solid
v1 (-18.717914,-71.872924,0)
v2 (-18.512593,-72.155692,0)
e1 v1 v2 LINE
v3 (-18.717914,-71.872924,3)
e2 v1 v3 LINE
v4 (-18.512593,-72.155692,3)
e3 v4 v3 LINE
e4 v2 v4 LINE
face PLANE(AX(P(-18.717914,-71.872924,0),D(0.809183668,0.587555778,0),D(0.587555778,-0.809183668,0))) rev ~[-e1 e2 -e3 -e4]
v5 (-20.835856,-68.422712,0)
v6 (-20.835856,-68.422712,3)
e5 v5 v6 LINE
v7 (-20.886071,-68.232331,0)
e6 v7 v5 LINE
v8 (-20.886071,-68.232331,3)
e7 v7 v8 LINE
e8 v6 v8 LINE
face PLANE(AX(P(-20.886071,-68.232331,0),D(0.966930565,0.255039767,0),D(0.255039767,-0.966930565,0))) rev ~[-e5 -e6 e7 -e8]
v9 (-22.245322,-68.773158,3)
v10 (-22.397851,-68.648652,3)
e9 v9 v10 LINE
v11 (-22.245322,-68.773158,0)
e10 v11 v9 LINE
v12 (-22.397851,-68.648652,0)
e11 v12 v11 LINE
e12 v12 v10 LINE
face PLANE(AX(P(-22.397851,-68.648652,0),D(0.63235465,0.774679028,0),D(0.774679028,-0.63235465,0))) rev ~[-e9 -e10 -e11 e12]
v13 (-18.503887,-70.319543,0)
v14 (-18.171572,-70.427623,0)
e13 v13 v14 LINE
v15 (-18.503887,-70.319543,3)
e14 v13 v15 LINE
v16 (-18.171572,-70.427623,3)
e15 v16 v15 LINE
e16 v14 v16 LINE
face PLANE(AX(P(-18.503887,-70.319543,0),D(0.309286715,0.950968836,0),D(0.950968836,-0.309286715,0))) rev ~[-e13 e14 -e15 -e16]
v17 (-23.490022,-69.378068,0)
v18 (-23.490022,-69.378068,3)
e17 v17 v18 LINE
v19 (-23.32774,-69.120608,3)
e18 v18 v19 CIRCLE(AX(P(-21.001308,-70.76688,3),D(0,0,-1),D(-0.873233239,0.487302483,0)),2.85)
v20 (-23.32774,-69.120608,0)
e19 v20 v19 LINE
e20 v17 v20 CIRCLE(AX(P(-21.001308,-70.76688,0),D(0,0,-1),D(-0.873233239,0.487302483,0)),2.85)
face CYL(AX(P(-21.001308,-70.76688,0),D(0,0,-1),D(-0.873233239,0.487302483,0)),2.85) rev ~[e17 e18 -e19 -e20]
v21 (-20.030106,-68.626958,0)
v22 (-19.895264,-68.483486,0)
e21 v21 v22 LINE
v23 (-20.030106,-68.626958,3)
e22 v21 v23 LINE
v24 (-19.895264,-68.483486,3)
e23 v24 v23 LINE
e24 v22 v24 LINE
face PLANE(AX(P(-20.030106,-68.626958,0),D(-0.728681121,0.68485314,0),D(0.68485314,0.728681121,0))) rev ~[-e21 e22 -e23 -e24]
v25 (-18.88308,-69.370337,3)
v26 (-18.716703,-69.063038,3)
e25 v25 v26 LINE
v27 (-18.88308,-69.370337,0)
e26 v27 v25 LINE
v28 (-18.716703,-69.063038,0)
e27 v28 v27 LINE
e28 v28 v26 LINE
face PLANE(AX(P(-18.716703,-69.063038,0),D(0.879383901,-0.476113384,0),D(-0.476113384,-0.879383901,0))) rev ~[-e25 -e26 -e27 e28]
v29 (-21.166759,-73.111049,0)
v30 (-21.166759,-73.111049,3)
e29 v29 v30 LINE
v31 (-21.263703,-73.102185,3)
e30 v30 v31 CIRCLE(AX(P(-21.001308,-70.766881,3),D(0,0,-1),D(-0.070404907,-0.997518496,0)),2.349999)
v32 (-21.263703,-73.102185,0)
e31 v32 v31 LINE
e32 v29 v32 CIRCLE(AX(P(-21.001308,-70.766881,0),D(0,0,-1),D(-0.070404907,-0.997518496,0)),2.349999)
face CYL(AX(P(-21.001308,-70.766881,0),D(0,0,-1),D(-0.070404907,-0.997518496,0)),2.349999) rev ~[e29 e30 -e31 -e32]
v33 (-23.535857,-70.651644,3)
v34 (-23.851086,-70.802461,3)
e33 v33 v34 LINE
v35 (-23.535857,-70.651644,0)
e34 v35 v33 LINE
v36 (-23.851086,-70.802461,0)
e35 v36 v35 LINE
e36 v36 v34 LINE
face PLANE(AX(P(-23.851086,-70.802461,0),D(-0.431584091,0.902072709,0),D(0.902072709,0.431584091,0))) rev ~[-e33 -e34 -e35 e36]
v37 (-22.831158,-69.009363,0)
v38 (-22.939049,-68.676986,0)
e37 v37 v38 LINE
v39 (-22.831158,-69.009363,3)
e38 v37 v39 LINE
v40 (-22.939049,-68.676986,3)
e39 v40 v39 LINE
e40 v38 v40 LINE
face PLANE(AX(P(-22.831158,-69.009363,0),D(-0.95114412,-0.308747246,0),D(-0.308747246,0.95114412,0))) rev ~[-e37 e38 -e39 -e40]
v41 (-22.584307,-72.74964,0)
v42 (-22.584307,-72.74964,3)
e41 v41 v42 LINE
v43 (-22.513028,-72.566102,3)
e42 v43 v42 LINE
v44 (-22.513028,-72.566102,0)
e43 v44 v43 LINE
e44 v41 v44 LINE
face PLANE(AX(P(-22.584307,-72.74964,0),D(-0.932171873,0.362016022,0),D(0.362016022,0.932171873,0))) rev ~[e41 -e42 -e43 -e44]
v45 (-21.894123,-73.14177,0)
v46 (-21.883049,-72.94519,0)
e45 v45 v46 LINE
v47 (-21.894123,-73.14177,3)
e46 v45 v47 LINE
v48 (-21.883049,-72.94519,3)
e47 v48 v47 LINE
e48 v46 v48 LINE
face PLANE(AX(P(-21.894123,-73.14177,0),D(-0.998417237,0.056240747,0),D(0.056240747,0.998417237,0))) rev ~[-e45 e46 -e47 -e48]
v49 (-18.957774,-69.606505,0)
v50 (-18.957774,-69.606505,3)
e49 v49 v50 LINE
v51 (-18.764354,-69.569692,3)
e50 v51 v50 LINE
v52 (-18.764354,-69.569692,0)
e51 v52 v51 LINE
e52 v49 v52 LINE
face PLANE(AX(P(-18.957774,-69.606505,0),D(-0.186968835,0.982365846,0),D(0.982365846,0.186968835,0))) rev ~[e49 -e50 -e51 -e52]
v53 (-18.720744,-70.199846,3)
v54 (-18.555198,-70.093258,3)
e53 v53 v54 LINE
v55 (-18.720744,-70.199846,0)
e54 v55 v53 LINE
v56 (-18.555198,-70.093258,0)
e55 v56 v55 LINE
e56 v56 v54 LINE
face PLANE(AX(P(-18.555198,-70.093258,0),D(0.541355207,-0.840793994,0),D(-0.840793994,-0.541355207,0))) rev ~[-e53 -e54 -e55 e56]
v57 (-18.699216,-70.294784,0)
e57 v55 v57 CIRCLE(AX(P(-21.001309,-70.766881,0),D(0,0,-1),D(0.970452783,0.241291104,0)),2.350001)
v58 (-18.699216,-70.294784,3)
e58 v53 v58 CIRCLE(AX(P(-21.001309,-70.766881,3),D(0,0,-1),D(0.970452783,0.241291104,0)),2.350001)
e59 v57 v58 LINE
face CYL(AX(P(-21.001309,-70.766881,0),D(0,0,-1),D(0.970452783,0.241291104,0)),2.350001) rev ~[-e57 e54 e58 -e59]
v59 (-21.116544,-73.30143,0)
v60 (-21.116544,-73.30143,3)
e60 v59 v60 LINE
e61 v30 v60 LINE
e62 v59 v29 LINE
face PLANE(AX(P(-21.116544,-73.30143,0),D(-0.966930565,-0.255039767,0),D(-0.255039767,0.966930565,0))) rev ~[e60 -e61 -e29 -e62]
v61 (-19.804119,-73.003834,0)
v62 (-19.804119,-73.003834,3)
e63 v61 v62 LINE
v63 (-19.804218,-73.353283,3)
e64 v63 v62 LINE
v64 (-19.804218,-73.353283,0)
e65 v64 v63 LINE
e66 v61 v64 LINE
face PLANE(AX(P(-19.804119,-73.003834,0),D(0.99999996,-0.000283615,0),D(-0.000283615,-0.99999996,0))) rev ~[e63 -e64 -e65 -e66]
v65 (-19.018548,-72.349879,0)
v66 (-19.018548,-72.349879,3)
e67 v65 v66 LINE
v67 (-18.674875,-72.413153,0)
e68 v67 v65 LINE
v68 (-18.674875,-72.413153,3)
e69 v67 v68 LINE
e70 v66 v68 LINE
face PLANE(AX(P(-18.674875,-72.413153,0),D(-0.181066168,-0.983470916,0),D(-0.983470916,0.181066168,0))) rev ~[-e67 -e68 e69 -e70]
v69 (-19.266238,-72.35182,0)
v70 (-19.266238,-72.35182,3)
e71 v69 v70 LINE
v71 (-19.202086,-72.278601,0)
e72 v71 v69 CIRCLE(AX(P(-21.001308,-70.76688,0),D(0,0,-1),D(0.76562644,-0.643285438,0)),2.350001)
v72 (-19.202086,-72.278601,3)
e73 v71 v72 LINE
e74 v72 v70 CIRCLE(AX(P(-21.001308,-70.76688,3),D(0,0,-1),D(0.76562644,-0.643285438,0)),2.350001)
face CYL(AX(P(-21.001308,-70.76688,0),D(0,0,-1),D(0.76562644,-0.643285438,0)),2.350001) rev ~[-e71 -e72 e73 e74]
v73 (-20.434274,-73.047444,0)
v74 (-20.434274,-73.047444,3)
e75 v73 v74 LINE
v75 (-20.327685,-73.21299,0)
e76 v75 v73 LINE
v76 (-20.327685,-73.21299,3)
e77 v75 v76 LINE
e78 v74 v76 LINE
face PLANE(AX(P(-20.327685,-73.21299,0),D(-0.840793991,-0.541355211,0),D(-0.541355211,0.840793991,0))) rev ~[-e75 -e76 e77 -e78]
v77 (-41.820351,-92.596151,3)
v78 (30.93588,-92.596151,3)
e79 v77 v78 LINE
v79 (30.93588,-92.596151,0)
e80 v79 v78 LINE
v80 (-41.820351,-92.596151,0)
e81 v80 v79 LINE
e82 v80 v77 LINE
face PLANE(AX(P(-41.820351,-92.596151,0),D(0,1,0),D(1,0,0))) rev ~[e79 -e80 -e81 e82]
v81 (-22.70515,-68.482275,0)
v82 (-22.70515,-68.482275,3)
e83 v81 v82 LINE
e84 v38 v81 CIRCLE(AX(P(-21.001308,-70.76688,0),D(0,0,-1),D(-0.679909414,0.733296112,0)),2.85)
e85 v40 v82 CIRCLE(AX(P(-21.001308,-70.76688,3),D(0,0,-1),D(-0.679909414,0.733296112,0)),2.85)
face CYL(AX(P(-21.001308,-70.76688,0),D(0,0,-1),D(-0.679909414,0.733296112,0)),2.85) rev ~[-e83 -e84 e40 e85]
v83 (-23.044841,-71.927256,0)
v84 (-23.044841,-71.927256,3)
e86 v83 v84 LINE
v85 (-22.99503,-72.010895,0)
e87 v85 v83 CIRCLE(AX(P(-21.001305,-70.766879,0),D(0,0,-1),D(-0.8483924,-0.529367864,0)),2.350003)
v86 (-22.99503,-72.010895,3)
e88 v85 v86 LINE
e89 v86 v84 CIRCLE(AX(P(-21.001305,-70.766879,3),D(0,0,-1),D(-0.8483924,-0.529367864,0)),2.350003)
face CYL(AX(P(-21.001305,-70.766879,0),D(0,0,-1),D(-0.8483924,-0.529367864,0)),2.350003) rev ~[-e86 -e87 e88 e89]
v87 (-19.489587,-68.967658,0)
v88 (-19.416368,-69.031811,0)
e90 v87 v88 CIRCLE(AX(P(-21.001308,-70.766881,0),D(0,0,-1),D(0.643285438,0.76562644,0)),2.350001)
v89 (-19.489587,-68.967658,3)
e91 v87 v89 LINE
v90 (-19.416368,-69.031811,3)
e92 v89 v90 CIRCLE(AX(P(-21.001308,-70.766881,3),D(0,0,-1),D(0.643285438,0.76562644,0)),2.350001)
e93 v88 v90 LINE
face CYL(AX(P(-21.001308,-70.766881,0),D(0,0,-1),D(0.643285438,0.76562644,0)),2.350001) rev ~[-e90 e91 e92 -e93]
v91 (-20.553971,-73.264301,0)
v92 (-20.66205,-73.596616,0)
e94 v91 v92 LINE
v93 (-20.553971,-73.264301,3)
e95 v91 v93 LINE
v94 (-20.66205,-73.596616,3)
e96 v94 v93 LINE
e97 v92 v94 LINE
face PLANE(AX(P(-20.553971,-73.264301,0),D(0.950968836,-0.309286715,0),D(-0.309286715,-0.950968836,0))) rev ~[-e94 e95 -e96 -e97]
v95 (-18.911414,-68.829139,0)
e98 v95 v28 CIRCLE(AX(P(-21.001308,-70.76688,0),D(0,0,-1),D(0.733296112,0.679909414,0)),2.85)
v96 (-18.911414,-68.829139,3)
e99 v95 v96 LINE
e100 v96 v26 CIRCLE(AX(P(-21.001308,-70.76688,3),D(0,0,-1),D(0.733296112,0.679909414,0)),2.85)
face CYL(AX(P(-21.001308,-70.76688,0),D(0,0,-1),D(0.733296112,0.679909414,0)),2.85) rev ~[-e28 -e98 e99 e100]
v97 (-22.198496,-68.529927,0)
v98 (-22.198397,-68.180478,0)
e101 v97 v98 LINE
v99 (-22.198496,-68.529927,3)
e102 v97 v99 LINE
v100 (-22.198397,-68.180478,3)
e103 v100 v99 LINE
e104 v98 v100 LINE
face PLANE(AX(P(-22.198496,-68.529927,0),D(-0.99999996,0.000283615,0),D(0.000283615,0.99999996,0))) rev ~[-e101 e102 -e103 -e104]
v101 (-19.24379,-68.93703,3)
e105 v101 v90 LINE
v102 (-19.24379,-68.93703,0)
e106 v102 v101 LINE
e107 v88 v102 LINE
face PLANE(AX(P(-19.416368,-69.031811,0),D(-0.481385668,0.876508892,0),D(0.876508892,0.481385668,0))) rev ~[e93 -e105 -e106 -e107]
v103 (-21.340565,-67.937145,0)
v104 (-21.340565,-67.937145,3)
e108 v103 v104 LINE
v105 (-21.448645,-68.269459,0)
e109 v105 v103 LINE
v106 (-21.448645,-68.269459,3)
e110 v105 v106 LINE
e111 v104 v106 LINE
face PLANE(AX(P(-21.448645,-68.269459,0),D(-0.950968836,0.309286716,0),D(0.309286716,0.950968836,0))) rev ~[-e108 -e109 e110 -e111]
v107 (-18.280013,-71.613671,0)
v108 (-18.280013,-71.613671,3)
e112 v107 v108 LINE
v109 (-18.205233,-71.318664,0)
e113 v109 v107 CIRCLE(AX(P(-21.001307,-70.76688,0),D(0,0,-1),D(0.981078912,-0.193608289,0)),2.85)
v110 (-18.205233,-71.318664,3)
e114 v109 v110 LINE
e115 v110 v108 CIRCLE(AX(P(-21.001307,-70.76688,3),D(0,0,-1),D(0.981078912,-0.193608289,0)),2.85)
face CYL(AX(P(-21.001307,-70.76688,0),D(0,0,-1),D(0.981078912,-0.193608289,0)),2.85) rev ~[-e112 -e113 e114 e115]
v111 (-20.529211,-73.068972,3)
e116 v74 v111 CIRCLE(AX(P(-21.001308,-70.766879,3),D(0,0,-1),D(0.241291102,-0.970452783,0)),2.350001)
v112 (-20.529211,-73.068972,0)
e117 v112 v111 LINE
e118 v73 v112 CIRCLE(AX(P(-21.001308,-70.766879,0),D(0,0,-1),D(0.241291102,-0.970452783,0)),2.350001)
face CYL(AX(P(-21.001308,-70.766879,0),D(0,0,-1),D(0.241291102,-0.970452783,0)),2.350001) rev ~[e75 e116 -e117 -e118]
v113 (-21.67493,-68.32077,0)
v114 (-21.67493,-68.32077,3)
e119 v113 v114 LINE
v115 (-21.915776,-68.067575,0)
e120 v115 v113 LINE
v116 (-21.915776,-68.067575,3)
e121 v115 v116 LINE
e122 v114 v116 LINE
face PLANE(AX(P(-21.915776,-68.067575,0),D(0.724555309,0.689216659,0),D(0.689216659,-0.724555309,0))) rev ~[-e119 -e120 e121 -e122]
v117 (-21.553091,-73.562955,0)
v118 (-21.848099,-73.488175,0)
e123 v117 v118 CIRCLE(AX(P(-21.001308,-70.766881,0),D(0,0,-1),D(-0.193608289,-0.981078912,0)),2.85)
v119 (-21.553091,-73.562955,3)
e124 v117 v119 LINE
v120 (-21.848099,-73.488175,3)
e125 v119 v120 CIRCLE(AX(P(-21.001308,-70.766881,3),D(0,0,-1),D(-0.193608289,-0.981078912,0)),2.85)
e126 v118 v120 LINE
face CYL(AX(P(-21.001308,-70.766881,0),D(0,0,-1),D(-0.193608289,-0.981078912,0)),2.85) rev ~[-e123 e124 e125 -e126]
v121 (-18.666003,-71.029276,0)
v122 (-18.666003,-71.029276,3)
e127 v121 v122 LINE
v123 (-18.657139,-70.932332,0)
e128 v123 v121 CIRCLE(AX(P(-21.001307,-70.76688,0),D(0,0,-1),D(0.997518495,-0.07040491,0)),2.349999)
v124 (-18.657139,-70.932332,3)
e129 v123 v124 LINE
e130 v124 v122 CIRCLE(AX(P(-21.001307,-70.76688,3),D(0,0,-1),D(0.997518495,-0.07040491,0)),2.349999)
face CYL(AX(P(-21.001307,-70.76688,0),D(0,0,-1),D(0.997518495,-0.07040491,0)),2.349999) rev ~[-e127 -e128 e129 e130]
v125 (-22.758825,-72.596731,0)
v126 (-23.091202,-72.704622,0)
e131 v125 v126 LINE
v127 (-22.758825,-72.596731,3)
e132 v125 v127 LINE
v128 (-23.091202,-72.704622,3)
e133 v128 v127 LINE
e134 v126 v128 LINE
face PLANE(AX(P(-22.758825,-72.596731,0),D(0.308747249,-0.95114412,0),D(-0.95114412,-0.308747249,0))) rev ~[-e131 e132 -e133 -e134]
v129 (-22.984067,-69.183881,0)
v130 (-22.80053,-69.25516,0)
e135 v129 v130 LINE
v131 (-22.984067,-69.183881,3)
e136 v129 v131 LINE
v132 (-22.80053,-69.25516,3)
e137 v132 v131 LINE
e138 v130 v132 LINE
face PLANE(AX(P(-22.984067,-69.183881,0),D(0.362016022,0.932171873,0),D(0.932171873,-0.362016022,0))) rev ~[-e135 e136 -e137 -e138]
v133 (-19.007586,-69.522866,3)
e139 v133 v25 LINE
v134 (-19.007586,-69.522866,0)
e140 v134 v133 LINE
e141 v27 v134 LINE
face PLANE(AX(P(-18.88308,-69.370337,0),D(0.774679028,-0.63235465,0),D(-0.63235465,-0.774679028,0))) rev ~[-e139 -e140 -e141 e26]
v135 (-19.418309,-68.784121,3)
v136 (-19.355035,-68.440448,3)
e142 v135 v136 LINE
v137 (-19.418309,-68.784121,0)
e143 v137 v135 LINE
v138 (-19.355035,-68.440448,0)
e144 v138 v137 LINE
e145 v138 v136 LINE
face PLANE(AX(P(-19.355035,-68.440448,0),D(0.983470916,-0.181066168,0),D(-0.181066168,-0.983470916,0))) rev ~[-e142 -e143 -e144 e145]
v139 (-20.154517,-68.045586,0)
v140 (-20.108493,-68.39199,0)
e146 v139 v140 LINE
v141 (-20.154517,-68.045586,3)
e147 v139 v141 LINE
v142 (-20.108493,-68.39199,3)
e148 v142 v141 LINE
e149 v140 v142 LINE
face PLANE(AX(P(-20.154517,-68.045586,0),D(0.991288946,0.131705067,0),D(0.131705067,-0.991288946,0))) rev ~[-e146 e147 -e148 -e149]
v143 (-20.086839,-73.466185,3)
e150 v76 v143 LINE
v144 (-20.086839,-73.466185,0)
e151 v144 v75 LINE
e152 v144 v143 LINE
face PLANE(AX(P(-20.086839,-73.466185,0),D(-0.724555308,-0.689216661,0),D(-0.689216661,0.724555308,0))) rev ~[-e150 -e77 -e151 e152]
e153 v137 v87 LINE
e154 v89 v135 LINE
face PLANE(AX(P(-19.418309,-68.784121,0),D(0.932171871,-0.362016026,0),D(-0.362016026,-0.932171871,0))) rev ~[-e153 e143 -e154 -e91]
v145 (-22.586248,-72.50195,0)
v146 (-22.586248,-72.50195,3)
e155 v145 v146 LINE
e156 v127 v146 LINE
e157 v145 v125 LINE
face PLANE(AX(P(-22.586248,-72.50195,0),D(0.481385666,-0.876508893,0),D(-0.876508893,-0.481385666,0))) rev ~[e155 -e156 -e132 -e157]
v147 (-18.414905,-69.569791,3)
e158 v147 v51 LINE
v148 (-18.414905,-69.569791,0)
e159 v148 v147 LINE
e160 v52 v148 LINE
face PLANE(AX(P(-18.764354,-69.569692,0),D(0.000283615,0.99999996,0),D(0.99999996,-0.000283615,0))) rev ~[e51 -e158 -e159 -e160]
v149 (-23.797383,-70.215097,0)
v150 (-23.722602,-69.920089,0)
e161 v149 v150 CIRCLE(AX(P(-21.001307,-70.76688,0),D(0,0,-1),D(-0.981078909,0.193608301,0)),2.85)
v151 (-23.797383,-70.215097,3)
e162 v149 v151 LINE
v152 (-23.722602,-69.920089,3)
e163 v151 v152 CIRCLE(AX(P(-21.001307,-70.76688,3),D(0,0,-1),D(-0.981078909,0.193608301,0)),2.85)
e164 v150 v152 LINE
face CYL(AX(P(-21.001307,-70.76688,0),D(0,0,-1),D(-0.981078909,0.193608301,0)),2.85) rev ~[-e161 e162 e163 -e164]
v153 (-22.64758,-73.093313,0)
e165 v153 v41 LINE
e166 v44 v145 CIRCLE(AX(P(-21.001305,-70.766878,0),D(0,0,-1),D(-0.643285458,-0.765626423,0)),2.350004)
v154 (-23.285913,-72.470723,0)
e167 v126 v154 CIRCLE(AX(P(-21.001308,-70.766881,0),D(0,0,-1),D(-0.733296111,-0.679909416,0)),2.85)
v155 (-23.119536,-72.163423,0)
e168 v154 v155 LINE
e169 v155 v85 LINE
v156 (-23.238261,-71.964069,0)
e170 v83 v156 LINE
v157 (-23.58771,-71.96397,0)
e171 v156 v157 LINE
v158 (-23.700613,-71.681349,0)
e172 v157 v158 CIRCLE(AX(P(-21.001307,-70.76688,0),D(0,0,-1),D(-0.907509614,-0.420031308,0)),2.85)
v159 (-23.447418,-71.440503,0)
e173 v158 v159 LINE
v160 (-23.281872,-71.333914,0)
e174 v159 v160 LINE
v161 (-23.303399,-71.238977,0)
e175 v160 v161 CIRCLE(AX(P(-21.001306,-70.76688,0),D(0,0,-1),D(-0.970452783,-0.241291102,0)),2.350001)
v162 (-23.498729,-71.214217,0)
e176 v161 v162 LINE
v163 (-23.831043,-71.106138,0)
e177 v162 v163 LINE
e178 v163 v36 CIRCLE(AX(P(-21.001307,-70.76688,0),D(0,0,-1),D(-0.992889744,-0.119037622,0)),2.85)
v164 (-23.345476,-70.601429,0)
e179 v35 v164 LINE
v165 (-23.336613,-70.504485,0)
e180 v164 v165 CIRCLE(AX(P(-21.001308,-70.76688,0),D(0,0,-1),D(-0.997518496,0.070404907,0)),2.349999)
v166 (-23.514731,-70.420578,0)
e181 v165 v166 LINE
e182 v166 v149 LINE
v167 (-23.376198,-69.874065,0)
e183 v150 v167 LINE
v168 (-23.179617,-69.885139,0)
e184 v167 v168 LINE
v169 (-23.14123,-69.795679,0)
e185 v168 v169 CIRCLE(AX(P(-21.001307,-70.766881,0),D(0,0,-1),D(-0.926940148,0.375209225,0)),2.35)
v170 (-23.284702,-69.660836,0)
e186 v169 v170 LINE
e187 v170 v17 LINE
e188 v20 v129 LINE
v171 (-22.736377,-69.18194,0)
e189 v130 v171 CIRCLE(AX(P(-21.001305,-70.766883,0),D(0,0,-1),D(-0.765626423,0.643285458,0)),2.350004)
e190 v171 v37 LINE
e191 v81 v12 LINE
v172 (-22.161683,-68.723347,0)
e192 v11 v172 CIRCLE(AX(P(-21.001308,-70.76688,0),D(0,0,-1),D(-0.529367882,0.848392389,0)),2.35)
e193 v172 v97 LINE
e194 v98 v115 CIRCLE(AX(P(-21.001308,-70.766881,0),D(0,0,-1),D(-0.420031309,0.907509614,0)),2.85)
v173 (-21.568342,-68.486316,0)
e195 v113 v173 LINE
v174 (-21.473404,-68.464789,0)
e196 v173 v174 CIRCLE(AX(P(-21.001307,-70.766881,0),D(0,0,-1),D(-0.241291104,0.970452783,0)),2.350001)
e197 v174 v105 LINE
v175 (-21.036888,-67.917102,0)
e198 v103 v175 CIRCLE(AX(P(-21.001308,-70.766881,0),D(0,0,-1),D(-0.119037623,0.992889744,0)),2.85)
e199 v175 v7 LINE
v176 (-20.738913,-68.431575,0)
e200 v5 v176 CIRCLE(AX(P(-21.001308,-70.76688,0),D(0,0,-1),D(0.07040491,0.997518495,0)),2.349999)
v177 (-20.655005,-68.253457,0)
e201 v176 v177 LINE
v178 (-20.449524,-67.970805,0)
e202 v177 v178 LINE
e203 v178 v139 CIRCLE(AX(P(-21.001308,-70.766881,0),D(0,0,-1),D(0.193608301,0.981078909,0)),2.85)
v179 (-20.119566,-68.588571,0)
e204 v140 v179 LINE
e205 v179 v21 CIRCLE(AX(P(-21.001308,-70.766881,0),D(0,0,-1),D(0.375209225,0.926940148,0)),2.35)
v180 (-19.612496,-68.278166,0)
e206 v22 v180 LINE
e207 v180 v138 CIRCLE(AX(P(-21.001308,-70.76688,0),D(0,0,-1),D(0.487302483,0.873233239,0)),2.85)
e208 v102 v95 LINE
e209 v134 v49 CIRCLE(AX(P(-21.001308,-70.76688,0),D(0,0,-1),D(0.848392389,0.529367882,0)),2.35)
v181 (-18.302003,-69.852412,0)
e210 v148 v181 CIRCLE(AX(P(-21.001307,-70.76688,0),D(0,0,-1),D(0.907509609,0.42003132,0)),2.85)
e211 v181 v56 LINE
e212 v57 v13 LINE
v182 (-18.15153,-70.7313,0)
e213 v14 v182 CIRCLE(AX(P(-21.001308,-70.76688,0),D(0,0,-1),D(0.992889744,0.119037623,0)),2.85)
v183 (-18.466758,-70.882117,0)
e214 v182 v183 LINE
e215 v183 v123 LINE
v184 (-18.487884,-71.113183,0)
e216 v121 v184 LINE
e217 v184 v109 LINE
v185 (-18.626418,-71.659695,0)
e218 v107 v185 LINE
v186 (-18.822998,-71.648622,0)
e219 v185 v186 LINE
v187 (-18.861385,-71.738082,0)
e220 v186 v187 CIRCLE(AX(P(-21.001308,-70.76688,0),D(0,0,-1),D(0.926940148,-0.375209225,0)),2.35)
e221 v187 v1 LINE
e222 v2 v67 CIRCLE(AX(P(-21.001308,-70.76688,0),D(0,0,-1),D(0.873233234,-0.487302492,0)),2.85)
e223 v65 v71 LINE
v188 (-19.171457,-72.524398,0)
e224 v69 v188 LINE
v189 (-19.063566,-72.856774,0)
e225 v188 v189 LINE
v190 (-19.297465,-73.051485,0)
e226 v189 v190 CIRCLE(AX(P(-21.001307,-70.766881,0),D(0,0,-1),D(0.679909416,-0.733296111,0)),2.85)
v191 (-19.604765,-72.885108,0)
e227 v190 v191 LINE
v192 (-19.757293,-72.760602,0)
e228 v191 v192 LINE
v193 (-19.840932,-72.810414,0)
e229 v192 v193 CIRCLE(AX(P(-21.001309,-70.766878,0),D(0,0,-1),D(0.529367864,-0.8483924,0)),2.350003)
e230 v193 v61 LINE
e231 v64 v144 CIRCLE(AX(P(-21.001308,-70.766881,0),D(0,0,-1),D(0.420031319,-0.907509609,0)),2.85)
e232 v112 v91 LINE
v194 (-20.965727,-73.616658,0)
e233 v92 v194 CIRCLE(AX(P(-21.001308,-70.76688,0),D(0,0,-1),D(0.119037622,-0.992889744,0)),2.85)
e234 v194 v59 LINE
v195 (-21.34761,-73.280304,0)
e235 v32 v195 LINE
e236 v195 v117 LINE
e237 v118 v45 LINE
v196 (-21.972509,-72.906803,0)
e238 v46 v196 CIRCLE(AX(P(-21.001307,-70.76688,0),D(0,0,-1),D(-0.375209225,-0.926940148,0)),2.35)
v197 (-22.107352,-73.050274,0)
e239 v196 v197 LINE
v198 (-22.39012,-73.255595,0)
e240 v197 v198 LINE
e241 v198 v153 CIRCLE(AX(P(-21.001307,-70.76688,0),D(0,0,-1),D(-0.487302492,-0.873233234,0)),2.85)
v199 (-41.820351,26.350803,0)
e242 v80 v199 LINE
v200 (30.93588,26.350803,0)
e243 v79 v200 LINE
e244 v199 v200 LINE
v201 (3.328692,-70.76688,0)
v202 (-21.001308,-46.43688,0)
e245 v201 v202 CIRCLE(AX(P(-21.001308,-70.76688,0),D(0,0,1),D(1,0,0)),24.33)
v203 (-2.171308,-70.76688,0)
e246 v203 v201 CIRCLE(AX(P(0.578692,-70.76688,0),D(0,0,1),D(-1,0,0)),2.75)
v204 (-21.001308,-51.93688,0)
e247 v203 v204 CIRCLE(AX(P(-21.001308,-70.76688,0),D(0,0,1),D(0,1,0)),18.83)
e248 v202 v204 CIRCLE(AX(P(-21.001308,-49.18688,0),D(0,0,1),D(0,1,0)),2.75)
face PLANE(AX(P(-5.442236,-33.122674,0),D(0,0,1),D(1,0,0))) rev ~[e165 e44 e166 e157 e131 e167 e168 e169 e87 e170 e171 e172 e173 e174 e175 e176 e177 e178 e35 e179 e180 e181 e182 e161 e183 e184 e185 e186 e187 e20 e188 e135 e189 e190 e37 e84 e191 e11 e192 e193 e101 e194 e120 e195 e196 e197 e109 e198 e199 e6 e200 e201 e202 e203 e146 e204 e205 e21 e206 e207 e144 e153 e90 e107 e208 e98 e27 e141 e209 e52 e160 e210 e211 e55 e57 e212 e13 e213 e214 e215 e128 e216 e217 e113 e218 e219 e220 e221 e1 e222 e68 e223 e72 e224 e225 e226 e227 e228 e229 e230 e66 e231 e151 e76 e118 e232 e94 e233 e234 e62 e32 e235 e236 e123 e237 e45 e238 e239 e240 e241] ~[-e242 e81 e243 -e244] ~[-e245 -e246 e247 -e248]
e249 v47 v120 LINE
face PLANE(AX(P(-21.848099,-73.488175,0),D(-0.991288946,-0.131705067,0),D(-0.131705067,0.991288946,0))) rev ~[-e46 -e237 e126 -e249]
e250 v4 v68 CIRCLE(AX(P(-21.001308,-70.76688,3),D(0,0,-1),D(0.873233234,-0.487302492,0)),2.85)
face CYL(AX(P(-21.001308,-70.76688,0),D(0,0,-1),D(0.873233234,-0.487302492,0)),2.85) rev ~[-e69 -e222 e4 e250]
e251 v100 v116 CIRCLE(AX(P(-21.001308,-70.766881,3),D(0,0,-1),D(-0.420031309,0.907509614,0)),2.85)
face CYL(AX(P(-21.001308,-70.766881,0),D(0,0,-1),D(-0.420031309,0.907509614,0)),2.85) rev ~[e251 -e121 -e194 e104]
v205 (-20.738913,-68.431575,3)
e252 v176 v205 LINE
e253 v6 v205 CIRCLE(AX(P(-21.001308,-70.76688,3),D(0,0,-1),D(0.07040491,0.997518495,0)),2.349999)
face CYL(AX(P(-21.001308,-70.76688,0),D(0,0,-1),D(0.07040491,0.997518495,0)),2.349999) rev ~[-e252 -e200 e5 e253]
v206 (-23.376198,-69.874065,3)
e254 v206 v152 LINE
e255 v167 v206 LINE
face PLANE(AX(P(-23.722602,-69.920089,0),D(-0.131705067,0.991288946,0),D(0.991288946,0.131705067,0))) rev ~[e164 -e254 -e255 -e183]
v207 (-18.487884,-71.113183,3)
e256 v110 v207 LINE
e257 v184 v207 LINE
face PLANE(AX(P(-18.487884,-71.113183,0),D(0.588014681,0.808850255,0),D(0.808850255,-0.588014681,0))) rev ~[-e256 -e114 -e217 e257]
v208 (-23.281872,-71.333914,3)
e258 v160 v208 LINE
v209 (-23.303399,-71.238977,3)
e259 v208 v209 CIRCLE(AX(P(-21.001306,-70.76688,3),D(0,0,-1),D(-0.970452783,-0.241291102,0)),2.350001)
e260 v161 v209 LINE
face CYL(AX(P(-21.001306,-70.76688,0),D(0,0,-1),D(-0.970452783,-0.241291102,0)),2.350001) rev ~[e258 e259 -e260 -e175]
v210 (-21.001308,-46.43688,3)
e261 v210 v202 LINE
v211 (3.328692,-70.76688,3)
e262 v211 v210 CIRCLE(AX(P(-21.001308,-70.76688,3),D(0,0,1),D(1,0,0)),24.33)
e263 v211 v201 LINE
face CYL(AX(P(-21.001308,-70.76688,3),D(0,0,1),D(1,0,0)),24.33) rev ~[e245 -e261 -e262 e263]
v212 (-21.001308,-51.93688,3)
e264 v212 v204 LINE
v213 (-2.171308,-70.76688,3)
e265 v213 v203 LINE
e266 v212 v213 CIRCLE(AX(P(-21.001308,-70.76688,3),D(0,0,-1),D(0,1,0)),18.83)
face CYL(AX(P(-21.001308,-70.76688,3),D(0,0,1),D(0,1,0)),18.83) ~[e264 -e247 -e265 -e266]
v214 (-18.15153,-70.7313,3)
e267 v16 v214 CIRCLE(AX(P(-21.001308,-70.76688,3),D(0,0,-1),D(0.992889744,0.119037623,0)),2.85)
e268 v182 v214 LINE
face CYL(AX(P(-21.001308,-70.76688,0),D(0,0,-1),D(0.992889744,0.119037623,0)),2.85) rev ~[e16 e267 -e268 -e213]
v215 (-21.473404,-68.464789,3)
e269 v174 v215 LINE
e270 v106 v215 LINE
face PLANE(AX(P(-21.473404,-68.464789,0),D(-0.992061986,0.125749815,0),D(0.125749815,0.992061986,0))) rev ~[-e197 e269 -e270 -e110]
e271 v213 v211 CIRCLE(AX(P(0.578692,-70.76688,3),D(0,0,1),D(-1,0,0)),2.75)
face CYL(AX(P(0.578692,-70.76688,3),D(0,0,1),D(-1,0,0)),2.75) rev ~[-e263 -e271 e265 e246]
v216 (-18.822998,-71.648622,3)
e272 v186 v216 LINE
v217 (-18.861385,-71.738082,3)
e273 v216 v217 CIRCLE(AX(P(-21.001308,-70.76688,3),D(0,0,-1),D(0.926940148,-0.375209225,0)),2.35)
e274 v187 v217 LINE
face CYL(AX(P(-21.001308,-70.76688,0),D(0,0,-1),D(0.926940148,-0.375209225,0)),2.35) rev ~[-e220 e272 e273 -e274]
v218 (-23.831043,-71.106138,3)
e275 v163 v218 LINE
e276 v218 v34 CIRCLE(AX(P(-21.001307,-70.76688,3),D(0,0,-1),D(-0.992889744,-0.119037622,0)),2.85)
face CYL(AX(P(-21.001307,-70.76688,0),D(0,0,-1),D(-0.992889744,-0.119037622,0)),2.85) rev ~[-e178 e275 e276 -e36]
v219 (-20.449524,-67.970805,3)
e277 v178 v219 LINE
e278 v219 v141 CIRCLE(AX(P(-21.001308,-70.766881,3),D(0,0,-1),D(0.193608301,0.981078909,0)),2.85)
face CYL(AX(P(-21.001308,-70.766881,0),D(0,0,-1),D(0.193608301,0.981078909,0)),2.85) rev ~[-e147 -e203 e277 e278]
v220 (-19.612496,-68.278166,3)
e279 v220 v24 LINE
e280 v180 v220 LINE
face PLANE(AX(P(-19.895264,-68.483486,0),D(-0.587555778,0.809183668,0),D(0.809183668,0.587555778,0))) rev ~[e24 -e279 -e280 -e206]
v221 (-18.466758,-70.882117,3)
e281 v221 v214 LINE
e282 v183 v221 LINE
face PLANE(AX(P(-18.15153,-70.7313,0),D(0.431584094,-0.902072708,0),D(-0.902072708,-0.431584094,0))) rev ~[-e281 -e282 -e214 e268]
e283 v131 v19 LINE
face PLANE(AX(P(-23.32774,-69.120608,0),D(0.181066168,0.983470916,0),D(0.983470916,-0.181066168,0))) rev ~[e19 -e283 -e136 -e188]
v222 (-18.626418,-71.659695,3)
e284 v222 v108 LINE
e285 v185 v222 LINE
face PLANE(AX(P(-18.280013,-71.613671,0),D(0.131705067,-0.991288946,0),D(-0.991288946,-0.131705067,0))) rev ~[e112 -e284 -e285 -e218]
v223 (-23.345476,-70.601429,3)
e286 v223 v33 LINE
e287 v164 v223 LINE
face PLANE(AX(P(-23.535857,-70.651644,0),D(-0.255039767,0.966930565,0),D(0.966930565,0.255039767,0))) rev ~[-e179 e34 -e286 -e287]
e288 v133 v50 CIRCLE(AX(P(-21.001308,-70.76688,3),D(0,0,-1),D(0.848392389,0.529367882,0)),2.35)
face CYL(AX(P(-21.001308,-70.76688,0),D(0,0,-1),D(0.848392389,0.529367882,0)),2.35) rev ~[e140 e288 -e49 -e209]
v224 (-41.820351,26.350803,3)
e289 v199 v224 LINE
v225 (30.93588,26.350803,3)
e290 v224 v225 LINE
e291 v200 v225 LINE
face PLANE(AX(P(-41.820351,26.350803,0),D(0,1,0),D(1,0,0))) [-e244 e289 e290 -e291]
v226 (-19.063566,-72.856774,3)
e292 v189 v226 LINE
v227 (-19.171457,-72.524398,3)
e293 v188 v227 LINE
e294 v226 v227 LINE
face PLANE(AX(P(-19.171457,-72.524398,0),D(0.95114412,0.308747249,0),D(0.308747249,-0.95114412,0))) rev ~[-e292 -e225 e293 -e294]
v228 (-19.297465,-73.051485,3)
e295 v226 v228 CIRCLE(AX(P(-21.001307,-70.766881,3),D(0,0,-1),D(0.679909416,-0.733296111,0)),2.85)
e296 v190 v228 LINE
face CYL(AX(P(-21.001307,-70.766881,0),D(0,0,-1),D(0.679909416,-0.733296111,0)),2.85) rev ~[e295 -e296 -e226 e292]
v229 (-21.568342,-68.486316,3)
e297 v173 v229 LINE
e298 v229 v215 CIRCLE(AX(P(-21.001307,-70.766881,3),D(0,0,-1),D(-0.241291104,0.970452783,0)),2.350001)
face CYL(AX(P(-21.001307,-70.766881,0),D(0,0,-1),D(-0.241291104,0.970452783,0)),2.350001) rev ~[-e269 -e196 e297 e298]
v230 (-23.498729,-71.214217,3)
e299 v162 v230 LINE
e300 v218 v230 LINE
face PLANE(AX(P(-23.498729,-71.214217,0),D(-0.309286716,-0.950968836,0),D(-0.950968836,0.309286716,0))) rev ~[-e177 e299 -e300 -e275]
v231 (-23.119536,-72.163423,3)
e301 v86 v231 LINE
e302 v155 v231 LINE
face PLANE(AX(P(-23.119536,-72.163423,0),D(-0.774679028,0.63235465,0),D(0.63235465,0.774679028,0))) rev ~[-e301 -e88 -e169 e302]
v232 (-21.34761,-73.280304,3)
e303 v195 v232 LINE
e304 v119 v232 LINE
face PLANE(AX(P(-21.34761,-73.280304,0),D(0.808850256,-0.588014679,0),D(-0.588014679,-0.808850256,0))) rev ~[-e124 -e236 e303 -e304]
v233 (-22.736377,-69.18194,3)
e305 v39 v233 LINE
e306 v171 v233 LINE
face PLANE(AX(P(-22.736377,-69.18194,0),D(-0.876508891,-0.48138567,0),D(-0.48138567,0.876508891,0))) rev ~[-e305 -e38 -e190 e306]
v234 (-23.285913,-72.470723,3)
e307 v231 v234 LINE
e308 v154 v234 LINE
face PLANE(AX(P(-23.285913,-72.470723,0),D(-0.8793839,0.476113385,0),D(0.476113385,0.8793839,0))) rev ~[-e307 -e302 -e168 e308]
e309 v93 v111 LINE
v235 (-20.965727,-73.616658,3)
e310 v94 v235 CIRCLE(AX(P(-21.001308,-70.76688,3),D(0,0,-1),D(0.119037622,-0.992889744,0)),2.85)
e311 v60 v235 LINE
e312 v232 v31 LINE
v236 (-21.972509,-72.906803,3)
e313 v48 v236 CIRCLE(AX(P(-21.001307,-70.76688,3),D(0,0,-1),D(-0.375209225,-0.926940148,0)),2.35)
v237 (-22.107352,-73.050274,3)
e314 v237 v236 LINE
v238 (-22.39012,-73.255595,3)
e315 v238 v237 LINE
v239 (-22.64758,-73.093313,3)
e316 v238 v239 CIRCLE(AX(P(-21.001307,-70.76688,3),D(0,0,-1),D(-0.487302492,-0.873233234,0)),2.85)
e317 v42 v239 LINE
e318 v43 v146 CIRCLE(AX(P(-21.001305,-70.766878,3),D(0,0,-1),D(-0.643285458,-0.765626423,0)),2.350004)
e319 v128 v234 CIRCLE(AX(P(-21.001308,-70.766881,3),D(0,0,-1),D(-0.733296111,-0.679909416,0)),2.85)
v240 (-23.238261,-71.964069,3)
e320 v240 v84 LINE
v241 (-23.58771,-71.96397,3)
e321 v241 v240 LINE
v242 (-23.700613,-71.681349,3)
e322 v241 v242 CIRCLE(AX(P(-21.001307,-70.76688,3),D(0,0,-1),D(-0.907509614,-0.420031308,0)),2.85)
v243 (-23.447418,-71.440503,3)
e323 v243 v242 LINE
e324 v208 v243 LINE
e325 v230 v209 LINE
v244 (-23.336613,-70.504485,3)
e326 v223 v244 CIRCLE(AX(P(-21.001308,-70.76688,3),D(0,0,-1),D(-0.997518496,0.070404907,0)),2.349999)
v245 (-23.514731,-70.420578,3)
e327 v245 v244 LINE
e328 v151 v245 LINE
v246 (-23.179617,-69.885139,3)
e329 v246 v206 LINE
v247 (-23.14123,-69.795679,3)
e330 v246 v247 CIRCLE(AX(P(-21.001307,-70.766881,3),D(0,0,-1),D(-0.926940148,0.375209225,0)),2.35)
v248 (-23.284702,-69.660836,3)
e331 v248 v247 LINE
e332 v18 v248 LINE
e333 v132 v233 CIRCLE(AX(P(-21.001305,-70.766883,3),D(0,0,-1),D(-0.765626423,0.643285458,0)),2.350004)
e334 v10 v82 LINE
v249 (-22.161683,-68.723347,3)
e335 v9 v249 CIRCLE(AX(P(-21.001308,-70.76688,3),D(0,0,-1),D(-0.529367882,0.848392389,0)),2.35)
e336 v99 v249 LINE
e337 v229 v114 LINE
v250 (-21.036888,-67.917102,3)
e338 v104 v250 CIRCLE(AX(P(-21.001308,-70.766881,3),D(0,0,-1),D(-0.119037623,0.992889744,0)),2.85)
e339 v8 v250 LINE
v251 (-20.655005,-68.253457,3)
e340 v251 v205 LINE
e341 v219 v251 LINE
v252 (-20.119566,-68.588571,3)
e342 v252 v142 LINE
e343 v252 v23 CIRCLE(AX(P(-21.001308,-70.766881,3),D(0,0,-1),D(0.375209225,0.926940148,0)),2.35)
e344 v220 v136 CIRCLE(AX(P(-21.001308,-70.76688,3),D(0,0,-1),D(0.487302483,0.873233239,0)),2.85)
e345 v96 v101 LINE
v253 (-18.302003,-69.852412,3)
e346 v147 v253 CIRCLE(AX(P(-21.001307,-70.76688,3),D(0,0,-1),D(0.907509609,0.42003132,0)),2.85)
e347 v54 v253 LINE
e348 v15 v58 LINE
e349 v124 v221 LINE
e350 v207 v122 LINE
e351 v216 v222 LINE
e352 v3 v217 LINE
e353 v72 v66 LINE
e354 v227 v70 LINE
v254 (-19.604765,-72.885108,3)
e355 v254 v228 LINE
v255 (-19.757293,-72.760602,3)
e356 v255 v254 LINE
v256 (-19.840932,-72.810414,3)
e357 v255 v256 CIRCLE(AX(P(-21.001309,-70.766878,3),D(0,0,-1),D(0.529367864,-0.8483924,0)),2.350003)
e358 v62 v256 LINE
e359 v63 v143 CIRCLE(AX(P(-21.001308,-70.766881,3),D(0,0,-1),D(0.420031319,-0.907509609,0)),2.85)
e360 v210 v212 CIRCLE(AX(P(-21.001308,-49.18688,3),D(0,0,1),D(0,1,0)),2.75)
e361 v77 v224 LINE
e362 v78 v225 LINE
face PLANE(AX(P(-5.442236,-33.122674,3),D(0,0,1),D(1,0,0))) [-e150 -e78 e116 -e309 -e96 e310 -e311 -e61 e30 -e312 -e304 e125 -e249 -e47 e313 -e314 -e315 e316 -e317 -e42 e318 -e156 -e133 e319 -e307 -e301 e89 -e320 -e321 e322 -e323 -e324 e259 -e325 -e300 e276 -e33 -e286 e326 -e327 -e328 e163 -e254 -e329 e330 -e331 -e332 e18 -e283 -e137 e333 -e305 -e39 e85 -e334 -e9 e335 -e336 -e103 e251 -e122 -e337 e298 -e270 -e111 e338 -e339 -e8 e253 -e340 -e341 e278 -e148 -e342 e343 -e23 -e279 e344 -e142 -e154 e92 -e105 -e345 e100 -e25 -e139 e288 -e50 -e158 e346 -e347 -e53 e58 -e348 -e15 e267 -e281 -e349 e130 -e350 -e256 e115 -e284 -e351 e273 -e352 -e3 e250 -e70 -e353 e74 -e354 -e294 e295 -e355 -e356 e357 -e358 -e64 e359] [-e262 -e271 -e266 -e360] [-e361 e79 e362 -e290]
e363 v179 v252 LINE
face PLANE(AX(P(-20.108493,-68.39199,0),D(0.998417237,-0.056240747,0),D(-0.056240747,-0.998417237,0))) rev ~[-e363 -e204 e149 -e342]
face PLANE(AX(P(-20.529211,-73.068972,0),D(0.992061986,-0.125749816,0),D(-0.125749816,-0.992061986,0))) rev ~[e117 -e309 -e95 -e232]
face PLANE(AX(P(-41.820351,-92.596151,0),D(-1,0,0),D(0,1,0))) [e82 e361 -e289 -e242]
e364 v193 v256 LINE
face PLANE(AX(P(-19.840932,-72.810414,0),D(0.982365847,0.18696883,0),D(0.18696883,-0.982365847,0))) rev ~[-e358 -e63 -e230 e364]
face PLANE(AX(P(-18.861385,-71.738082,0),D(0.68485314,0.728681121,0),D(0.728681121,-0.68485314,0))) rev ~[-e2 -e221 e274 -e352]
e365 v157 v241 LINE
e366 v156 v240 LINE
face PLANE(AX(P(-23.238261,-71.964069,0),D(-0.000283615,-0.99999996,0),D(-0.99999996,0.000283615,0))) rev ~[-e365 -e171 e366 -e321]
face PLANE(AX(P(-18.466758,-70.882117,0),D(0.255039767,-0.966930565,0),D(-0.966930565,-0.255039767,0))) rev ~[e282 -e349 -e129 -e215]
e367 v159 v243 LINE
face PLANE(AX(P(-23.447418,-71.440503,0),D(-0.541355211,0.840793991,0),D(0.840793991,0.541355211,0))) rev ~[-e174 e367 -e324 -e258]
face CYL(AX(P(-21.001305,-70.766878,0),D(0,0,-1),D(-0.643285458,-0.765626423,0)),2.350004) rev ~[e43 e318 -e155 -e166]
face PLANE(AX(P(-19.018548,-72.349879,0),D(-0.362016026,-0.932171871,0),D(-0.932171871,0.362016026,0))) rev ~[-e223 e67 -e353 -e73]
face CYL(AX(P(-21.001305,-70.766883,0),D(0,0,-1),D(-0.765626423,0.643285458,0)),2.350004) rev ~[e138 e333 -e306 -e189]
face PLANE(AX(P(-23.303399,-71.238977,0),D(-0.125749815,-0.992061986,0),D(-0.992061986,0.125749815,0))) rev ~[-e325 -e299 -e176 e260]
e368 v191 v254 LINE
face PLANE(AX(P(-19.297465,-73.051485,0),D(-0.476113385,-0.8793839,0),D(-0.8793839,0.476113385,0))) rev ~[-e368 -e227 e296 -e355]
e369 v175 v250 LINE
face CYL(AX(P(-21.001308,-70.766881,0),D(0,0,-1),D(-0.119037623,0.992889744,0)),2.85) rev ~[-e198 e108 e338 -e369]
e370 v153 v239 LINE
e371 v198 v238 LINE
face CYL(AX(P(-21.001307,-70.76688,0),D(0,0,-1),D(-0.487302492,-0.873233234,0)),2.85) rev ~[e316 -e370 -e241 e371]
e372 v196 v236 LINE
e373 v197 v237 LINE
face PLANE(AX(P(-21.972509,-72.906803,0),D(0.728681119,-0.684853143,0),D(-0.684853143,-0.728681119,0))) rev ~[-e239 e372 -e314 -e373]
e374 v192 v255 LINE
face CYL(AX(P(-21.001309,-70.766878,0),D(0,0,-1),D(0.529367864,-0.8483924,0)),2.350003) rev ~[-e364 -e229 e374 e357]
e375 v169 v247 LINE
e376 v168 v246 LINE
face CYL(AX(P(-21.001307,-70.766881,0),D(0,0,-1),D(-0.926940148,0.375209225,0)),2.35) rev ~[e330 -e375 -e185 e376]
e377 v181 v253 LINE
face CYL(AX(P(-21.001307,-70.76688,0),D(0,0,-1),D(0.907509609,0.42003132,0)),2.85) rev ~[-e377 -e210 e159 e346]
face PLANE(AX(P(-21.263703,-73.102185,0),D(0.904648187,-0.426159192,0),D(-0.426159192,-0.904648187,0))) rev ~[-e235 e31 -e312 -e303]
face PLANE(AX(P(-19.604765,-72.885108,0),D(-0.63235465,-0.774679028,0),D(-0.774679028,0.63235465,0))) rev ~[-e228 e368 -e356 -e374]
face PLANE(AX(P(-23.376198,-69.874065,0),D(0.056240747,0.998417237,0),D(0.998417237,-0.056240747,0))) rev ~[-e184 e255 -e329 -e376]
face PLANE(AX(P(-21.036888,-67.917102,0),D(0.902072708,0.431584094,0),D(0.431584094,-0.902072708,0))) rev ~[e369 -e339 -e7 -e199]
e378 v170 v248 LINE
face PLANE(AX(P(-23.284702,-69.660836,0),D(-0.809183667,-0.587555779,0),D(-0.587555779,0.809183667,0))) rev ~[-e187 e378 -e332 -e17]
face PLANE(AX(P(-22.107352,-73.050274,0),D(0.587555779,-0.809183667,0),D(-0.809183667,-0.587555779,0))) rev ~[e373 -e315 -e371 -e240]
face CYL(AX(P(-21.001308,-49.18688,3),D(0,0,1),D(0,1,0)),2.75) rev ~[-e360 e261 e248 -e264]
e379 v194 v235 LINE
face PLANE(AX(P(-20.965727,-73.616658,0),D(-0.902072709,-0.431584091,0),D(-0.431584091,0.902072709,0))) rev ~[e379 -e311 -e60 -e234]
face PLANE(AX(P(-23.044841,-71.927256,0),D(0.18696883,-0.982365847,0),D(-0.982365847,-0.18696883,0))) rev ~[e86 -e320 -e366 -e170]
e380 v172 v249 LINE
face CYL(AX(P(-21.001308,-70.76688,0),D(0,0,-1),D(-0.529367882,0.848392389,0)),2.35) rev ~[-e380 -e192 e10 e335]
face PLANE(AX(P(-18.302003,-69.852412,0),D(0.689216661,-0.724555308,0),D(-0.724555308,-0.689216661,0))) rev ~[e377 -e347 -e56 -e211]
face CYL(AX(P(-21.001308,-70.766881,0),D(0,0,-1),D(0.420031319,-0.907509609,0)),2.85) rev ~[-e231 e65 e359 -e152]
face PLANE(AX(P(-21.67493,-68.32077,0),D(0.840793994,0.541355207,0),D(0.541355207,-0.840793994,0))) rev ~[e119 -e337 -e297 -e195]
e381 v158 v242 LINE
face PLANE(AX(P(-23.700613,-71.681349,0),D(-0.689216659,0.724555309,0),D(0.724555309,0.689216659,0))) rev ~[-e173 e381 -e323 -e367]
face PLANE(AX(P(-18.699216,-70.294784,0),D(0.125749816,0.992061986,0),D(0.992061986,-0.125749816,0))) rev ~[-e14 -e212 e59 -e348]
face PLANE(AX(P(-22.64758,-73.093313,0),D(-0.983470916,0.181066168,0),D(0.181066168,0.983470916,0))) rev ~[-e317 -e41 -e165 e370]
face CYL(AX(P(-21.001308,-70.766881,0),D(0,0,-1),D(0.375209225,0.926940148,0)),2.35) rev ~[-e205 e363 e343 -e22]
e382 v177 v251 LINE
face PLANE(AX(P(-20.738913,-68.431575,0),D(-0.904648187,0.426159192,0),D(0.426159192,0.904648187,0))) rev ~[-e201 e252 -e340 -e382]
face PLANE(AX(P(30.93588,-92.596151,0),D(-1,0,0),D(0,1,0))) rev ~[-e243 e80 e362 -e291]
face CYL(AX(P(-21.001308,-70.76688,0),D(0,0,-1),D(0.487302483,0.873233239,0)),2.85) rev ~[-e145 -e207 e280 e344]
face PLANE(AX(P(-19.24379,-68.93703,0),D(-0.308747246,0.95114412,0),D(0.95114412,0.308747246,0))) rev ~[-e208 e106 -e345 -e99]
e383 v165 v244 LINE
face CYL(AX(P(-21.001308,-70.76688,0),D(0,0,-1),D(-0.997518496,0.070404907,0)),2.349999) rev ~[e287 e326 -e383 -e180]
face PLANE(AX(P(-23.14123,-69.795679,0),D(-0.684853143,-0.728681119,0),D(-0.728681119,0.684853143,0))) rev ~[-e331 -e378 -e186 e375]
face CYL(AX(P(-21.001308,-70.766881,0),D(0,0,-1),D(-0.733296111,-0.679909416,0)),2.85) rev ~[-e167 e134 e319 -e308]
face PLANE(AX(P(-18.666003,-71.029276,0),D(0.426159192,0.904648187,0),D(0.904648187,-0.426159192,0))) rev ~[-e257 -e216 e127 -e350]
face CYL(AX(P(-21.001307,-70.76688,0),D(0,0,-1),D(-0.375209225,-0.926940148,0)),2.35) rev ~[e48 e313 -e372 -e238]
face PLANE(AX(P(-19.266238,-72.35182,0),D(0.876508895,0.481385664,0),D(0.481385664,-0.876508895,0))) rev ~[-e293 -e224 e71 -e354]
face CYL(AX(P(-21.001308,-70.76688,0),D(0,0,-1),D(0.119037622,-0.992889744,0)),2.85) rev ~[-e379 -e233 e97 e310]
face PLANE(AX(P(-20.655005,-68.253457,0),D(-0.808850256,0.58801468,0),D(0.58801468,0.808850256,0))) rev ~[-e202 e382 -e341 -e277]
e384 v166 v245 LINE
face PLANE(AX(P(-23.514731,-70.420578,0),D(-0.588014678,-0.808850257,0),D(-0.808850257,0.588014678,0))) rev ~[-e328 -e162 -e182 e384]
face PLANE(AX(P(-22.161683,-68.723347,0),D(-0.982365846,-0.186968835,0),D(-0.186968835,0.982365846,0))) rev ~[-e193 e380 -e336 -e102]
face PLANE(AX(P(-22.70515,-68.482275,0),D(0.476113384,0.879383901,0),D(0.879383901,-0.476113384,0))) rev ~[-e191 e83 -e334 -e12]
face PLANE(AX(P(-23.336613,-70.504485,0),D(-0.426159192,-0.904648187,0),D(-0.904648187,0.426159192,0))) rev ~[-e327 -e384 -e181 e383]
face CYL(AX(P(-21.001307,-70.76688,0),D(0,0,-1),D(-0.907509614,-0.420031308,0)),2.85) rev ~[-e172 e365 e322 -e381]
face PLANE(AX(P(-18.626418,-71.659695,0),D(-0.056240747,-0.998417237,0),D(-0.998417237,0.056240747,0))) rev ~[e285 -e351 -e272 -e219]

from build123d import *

# Parameters (mm, degrees)
IZIM1_W                     = 72.756230931
IZIM1_H                     = 118.946953667
Y_KSEKLIK_EKSTR_ZYON1_DEPTH = 3
KES_EKSTR_ZYON3_DEPTH       = 4
CUT_EXTRUDE1_DEPTH          = 4


with BuildPart() as part:
    # Çizim1 → Yükseklik-Ekstrüzyon1 (new body)
    with BuildSketch(Plane.XY):
        with Locations((-5.442235915, -33.122673723)):
            Rectangle(IZIM1_W, IZIM1_H)
    extrude(amount=Y_KSEKLIK_EKSTR_ZYON1_DEPTH)

    # Çizim4 → Kes-Ekstrüzyon3 (cut, through all)
    with BuildSketch(Plane(origin=(0, 0, 0), x_dir=(-1, 0, 0), z_dir=(0, 0, -1))):
        with BuildLine():
            Line((20.655005016, -68.253457169), (20.449524021, -67.970805458))
            ThreePointArc((20.449524021, -67.970805458), (20.301021516, -68.004254914), (20.154516787, -68.045585584))
            Line((20.154516787, -68.045585584), (20.108492616, -68.391990267))
            Line((20.108492616, -68.391990267), (20.11956599, -68.588571002))
            ThreePointArc((20.11956599, -68.588571002), (20.074637279, -68.607301226), (20.030106153, -68.62695801))
            Line((20.030106153, -68.62695801), (19.895263796, -68.483486258))
            Line((19.895263796, -68.483486258), (19.612495575, -68.278165626))
            ThreePointArc((19.612495575, -68.278165626), (19.48159775, -68.355867746), (19.355035352, -68.440448001))
            Line((19.355035352, -68.440448001), (19.418308698, -68.784120683))
            Line((19.418308698, -68.784120683), (19.489586891, -68.967658211))
            ThreePointArc((19.489586891, -68.967658211), (19.452645105, -68.999355448), (19.416367768, -69.031811035))
            Line((19.416367768, -69.031811035), (19.243789855, -68.93702987))
            Line((19.243789855, -68.93702987), (18.911413732, -68.829138531))
            ThreePointArc((18.911413732, -68.829138531), (18.810933778, -68.943487291), (18.716702521, -69.063037825))
            Line((18.716702521, -69.063037825), (18.883079748, -69.37033743))
            Line((18.883079748, -69.37033743), (19.007585553, -69.522865819))
            ThreePointArc((19.007585553, -69.522865819), (18.982246812, -69.564427322), (18.957774342, -69.606504734))
            Line((18.957774342, -69.606504734), (18.764354003, -69.569691997))
            Line((18.764354003, -69.569691997), (18.414905268, -69.569791106))
            ThreePointArc((18.414905268, -69.569791106), (18.354678863, -69.709593253), (18.302002759, -69.852411628))
            Line((18.302002759, -69.852411628), (18.555197705, -70.093257528))
            Line((18.555197705, -70.093257528), (18.720743626, -70.199846237))
            ThreePointArc((18.720743626, -70.199846237), (18.709488262, -70.247203677), (18.699216195, -70.294784083))
            Line((18.699216195, -70.294784083), (18.503886761, -70.319543262))
            Line((18.503886761, -70.319543262), (18.17157189, -70.427623118))
            ThreePointArc((18.17157189, -70.427623118), (18.157494415, -70.579193843), (18.151529767, -70.7313))
            Line((18.151529767, -70.7313), (18.466757947, -70.882116522))
            Line((18.466757947, -70.882116522), (18.657139197, -70.932331906))
            ThreePointArc((18.657139197, -70.932331906), (18.661068963, -70.980849606), (18.666002801, -71.029275504))
            Line((18.666002801, -71.029275504), (18.487884476, -71.113182997))
            Line((18.487884476, -71.113182997), (18.205232766, -71.318663992))
            ThreePointArc((18.205232766, -71.318663992), (18.238682221, -71.467166497), (18.280012892, -71.613671226))
            Line((18.280012892, -71.613671226), (18.626417574, -71.659695397))
            Line((18.626417574, -71.659695397), (18.822998309, -71.648622023))
            ThreePointArc((18.822998309, -71.648622023), (18.841728533, -71.693550734), (18.861385317, -71.73808186))
            Line((18.861385317, -71.73808186), (18.717913565, -71.872924217))
            Line((18.717913565, -71.872924217), (18.512592933, -72.155692438))
            ThreePointArc((18.512592933, -72.155692438), (18.590295054, -72.286590263), (18.674875308, -72.413152661))
            Line((18.674875308, -72.413152661), (19.01854799, -72.349879315))
            Line((19.01854799, -72.349879315), (19.202085518, -72.278601122))
            ThreePointArc((19.202085518, -72.278601122), (19.233782755, -72.315542908), (19.266238342, -72.351820245))
            Line((19.266238342, -72.351820245), (19.171457178, -72.524398158))
            Line((19.171457178, -72.524398158), (19.063565838, -72.856774281))
            ThreePointArc((19.063565838, -72.856774281), (19.177914598, -72.957254235), (19.297465133, -73.051485492))
            Line((19.297465133, -73.051485492), (19.604764737, -72.885108265))
            Line((19.604764737, -72.885108265), (19.757293126, -72.76060246))
            ThreePointArc((19.757293126, -72.76060246), (19.79885463, -72.785941201), (19.840932041, -72.810413671))
            Line((19.840932041, -72.810413671), (19.804119305, -73.00383401))
            Line((19.804119305, -73.00383401), (19.804218414, -73.353282745))
            ThreePointArc((19.804218414, -73.353282745), (19.944020561, -73.41350915), (20.086838935, -73.466185254))
            Line((20.086838935, -73.466185254), (20.327684835, -73.212990308))
            Line((20.327684835, -73.212990308), (20.434273545, -73.047444387))
            ThreePointArc((20.434273545, -73.047444387), (20.481630985, -73.058699751), (20.52921139, -73.068971818))
            Line((20.52921139, -73.068971818), (20.553970569, -73.264301252))
            Line((20.553970569, -73.264301252), (20.662050425, -73.596616123))
            ThreePointArc((20.662050425, -73.596616123), (20.813621151, -73.610693598), (20.965727308, -73.616658246))
            Line((20.965727308, -73.616658246), (21.116543829, -73.301430066))
            Line((21.116543829, -73.301430066), (21.166759213, -73.111048816))
            ThreePointArc((21.166759213, -73.111048816), (21.215276914, -73.10711905), (21.263702812, -73.102185212))
            Line((21.263702812, -73.102185212), (21.347610305, -73.280303537))
            Line((21.347610305, -73.280303537), (21.553091299, -73.562955247))
            ThreePointArc((21.553091299, -73.562955247), (21.701593804, -73.529505792), (21.848098533, -73.488175121))
            Line((21.848098533, -73.488175121), (21.894122704, -73.141770439))
            Line((21.894122704, -73.141770439), (21.88304933, -72.945189704))
            ThreePointArc((21.88304933, -72.945189704), (21.927978041, -72.92645948), (21.972509167, -72.906802696))
            Line((21.972509167, -72.906802696), (22.107351525, -73.050274448))
            Line((22.107351525, -73.050274448), (22.390119745, -73.25559508))
            ThreePointArc((22.390119745, -73.25559508), (22.52101757, -73.177892959), (22.647579968, -73.093312705))
            Line((22.647579968, -73.093312705), (22.584306622, -72.749640023))
            Line((22.584306622, -72.749640023), (22.51302843, -72.566102495))
            ThreePointArc((22.51302843, -72.566102495), (22.549970215, -72.534405258), (22.586247553, -72.501949671))
            Line((22.586247553, -72.501949671), (22.758825465, -72.596730835))
            Line((22.758825465, -72.596730835), (23.091201588, -72.704622175))
            ThreePointArc((23.091201588, -72.704622175), (23.191681542, -72.590273415), (23.285912799, -72.47072288))
            Line((23.285912799, -72.47072288), (23.119535572, -72.163423276))
            Line((23.119535572, -72.163423276), (22.995029767, -72.010894887))
            ThreePointArc((22.995029767, -72.010894887), (23.020368508, -71.969333383), (23.044840978, -71.927255972))
            Line((23.044840978, -71.927255972), (23.238261317, -71.964068708))
            Line((23.238261317, -71.964068708), (23.587710053, -71.963969599))
            ThreePointArc((23.587710053, -71.963969599), (23.647936457, -71.824167452), (23.700612562, -71.681349078))
            Line((23.700612562, -71.681349078), (23.447417615, -71.440503178))
            Line((23.447417615, -71.440503178), (23.281871694, -71.333914468))
            ThreePointArc((23.281871694, -71.333914468), (23.293127058, -71.286557028), (23.303399125, -71.238976623))
            Line((23.303399125, -71.238976623), (23.49872856, -71.214217444))
            Line((23.49872856, -71.214217444), (23.83104343, -71.106137588))
            ThreePointArc((23.83104343, -71.106137588), (23.845120905, -70.954566862), (23.851085553, -70.802460705))
            Line((23.851085553, -70.802460705), (23.535857373, -70.651644184))
            Line((23.535857373, -70.651644184), (23.345476123, -70.6014288))
            ThreePointArc((23.345476123, -70.6014288), (23.341546357, -70.552911099), (23.336612519, -70.504485201))
            Line((23.336612519, -70.504485201), (23.514730844, -70.420577708))
            Line((23.514730844, -70.420577708), (23.797382555, -70.215096714))
            ThreePointArc((23.797382555, -70.215096714), (23.763933099, -70.066594209), (23.722602429, -69.92008948))
            Line((23.722602429, -69.92008948), (23.376197746, -69.874065309))
            Line((23.376197746, -69.874065309), (23.179617011, -69.885138683))
            ThreePointArc((23.179617011, -69.885138683), (23.160886787, -69.840209972), (23.141230003, -69.795678846))
            Line((23.141230003, -69.795678846), (23.284701755, -69.660836488))
            Line((23.284701755, -69.660836488), (23.490022387, -69.378068268))
            ThreePointArc((23.490022387, -69.378068268), (23.412320267, -69.247170443), (23.327740012, -69.120608045))
            Line((23.327740012, -69.120608045), (22.98406733, -69.183881391))
            Line((22.98406733, -69.183881391), (22.800529802, -69.255159583))
            ThreePointArc((22.800529802, -69.255159583), (22.768832565, -69.218217798), (22.736376978, -69.18194046))
            Line((22.736376978, -69.18194046), (22.831158143, -69.009362548))
            Line((22.831158143, -69.009362548), (22.939049482, -68.676986425))
            ThreePointArc((22.939049482, -68.676986425), (22.824700722, -68.576506471), (22.705150188, -68.482275214))
            Line((22.705150188, -68.482275214), (22.397850583, -68.648652441))
            Line((22.397850583, -68.648652441), (22.245322194, -68.773158246))
            ThreePointArc((22.245322194, -68.773158246), (22.203760691, -68.747819505), (22.161683279, -68.723347035))
            Line((22.161683279, -68.723347035), (22.198496016, -68.529926696))
            Line((22.198496016, -68.529926696), (22.198396907, -68.18047796))
            ThreePointArc((22.198396907, -68.18047796), (22.05859476, -68.120251556), (21.915776385, -68.067575451))
            Line((21.915776385, -68.067575451), (21.674930485, -68.320770398))
            Line((21.674930485, -68.320770398), (21.568341776, -68.486316319))
            ThreePointArc((21.568341776, -68.486316319), (21.520984336, -68.475060955), (21.47340393, -68.464788888))
            Line((21.47340393, -68.464788888), (21.448644751, -68.269459453))
            Line((21.448644751, -68.269459453), (21.340564895, -67.937144583))
            ThreePointArc((21.340564895, -67.937144583), (21.18899417, -67.923067108), (21.036888013, -67.91710246))
            Line((21.036888013, -67.91710246), (20.886071491, -68.23233064))
            Line((20.886071491, -68.23233064), (20.835856107, -68.42271189))
            ThreePointArc((20.835856107, -68.42271189), (20.787338407, -68.426641656), (20.738912509, -68.431575494))
            Line((20.738912509, -68.431575494), (20.655005016, -68.253457169))
        make_face()
    extrude(amount=-KES_EKSTR_ZYON3_DEPTH, mode=Mode.SUBTRACT)

    # Sketch1 → Cut-Extrude1 (cut, through all)
    with BuildSketch(Plane.XY.offset(3)):
        with BuildLine():
            ThreePointArc((3.32869234, -70.766880353), (-3.797399674, -53.562972367), (-21.00130766, -46.436880353))
            ThreePointArc((-21.00130766, -46.436880353), (-23.75130766, -49.186880353), (-21.00130766, -51.936880353))
            ThreePointArc((-21.00130766, -51.936880353), (-7.68648697, -57.452059663), (-2.17130766, -70.766880353))
            ThreePointArc((-2.17130766, -70.766880353), (0.57869234, -73.516880353), (3.32869234, -70.766880353))
        make_face()
    extrude(amount=-CUT_EXTRUDE1_DEPTH, mode=Mode.SUBTRACT)


solid = part.part
